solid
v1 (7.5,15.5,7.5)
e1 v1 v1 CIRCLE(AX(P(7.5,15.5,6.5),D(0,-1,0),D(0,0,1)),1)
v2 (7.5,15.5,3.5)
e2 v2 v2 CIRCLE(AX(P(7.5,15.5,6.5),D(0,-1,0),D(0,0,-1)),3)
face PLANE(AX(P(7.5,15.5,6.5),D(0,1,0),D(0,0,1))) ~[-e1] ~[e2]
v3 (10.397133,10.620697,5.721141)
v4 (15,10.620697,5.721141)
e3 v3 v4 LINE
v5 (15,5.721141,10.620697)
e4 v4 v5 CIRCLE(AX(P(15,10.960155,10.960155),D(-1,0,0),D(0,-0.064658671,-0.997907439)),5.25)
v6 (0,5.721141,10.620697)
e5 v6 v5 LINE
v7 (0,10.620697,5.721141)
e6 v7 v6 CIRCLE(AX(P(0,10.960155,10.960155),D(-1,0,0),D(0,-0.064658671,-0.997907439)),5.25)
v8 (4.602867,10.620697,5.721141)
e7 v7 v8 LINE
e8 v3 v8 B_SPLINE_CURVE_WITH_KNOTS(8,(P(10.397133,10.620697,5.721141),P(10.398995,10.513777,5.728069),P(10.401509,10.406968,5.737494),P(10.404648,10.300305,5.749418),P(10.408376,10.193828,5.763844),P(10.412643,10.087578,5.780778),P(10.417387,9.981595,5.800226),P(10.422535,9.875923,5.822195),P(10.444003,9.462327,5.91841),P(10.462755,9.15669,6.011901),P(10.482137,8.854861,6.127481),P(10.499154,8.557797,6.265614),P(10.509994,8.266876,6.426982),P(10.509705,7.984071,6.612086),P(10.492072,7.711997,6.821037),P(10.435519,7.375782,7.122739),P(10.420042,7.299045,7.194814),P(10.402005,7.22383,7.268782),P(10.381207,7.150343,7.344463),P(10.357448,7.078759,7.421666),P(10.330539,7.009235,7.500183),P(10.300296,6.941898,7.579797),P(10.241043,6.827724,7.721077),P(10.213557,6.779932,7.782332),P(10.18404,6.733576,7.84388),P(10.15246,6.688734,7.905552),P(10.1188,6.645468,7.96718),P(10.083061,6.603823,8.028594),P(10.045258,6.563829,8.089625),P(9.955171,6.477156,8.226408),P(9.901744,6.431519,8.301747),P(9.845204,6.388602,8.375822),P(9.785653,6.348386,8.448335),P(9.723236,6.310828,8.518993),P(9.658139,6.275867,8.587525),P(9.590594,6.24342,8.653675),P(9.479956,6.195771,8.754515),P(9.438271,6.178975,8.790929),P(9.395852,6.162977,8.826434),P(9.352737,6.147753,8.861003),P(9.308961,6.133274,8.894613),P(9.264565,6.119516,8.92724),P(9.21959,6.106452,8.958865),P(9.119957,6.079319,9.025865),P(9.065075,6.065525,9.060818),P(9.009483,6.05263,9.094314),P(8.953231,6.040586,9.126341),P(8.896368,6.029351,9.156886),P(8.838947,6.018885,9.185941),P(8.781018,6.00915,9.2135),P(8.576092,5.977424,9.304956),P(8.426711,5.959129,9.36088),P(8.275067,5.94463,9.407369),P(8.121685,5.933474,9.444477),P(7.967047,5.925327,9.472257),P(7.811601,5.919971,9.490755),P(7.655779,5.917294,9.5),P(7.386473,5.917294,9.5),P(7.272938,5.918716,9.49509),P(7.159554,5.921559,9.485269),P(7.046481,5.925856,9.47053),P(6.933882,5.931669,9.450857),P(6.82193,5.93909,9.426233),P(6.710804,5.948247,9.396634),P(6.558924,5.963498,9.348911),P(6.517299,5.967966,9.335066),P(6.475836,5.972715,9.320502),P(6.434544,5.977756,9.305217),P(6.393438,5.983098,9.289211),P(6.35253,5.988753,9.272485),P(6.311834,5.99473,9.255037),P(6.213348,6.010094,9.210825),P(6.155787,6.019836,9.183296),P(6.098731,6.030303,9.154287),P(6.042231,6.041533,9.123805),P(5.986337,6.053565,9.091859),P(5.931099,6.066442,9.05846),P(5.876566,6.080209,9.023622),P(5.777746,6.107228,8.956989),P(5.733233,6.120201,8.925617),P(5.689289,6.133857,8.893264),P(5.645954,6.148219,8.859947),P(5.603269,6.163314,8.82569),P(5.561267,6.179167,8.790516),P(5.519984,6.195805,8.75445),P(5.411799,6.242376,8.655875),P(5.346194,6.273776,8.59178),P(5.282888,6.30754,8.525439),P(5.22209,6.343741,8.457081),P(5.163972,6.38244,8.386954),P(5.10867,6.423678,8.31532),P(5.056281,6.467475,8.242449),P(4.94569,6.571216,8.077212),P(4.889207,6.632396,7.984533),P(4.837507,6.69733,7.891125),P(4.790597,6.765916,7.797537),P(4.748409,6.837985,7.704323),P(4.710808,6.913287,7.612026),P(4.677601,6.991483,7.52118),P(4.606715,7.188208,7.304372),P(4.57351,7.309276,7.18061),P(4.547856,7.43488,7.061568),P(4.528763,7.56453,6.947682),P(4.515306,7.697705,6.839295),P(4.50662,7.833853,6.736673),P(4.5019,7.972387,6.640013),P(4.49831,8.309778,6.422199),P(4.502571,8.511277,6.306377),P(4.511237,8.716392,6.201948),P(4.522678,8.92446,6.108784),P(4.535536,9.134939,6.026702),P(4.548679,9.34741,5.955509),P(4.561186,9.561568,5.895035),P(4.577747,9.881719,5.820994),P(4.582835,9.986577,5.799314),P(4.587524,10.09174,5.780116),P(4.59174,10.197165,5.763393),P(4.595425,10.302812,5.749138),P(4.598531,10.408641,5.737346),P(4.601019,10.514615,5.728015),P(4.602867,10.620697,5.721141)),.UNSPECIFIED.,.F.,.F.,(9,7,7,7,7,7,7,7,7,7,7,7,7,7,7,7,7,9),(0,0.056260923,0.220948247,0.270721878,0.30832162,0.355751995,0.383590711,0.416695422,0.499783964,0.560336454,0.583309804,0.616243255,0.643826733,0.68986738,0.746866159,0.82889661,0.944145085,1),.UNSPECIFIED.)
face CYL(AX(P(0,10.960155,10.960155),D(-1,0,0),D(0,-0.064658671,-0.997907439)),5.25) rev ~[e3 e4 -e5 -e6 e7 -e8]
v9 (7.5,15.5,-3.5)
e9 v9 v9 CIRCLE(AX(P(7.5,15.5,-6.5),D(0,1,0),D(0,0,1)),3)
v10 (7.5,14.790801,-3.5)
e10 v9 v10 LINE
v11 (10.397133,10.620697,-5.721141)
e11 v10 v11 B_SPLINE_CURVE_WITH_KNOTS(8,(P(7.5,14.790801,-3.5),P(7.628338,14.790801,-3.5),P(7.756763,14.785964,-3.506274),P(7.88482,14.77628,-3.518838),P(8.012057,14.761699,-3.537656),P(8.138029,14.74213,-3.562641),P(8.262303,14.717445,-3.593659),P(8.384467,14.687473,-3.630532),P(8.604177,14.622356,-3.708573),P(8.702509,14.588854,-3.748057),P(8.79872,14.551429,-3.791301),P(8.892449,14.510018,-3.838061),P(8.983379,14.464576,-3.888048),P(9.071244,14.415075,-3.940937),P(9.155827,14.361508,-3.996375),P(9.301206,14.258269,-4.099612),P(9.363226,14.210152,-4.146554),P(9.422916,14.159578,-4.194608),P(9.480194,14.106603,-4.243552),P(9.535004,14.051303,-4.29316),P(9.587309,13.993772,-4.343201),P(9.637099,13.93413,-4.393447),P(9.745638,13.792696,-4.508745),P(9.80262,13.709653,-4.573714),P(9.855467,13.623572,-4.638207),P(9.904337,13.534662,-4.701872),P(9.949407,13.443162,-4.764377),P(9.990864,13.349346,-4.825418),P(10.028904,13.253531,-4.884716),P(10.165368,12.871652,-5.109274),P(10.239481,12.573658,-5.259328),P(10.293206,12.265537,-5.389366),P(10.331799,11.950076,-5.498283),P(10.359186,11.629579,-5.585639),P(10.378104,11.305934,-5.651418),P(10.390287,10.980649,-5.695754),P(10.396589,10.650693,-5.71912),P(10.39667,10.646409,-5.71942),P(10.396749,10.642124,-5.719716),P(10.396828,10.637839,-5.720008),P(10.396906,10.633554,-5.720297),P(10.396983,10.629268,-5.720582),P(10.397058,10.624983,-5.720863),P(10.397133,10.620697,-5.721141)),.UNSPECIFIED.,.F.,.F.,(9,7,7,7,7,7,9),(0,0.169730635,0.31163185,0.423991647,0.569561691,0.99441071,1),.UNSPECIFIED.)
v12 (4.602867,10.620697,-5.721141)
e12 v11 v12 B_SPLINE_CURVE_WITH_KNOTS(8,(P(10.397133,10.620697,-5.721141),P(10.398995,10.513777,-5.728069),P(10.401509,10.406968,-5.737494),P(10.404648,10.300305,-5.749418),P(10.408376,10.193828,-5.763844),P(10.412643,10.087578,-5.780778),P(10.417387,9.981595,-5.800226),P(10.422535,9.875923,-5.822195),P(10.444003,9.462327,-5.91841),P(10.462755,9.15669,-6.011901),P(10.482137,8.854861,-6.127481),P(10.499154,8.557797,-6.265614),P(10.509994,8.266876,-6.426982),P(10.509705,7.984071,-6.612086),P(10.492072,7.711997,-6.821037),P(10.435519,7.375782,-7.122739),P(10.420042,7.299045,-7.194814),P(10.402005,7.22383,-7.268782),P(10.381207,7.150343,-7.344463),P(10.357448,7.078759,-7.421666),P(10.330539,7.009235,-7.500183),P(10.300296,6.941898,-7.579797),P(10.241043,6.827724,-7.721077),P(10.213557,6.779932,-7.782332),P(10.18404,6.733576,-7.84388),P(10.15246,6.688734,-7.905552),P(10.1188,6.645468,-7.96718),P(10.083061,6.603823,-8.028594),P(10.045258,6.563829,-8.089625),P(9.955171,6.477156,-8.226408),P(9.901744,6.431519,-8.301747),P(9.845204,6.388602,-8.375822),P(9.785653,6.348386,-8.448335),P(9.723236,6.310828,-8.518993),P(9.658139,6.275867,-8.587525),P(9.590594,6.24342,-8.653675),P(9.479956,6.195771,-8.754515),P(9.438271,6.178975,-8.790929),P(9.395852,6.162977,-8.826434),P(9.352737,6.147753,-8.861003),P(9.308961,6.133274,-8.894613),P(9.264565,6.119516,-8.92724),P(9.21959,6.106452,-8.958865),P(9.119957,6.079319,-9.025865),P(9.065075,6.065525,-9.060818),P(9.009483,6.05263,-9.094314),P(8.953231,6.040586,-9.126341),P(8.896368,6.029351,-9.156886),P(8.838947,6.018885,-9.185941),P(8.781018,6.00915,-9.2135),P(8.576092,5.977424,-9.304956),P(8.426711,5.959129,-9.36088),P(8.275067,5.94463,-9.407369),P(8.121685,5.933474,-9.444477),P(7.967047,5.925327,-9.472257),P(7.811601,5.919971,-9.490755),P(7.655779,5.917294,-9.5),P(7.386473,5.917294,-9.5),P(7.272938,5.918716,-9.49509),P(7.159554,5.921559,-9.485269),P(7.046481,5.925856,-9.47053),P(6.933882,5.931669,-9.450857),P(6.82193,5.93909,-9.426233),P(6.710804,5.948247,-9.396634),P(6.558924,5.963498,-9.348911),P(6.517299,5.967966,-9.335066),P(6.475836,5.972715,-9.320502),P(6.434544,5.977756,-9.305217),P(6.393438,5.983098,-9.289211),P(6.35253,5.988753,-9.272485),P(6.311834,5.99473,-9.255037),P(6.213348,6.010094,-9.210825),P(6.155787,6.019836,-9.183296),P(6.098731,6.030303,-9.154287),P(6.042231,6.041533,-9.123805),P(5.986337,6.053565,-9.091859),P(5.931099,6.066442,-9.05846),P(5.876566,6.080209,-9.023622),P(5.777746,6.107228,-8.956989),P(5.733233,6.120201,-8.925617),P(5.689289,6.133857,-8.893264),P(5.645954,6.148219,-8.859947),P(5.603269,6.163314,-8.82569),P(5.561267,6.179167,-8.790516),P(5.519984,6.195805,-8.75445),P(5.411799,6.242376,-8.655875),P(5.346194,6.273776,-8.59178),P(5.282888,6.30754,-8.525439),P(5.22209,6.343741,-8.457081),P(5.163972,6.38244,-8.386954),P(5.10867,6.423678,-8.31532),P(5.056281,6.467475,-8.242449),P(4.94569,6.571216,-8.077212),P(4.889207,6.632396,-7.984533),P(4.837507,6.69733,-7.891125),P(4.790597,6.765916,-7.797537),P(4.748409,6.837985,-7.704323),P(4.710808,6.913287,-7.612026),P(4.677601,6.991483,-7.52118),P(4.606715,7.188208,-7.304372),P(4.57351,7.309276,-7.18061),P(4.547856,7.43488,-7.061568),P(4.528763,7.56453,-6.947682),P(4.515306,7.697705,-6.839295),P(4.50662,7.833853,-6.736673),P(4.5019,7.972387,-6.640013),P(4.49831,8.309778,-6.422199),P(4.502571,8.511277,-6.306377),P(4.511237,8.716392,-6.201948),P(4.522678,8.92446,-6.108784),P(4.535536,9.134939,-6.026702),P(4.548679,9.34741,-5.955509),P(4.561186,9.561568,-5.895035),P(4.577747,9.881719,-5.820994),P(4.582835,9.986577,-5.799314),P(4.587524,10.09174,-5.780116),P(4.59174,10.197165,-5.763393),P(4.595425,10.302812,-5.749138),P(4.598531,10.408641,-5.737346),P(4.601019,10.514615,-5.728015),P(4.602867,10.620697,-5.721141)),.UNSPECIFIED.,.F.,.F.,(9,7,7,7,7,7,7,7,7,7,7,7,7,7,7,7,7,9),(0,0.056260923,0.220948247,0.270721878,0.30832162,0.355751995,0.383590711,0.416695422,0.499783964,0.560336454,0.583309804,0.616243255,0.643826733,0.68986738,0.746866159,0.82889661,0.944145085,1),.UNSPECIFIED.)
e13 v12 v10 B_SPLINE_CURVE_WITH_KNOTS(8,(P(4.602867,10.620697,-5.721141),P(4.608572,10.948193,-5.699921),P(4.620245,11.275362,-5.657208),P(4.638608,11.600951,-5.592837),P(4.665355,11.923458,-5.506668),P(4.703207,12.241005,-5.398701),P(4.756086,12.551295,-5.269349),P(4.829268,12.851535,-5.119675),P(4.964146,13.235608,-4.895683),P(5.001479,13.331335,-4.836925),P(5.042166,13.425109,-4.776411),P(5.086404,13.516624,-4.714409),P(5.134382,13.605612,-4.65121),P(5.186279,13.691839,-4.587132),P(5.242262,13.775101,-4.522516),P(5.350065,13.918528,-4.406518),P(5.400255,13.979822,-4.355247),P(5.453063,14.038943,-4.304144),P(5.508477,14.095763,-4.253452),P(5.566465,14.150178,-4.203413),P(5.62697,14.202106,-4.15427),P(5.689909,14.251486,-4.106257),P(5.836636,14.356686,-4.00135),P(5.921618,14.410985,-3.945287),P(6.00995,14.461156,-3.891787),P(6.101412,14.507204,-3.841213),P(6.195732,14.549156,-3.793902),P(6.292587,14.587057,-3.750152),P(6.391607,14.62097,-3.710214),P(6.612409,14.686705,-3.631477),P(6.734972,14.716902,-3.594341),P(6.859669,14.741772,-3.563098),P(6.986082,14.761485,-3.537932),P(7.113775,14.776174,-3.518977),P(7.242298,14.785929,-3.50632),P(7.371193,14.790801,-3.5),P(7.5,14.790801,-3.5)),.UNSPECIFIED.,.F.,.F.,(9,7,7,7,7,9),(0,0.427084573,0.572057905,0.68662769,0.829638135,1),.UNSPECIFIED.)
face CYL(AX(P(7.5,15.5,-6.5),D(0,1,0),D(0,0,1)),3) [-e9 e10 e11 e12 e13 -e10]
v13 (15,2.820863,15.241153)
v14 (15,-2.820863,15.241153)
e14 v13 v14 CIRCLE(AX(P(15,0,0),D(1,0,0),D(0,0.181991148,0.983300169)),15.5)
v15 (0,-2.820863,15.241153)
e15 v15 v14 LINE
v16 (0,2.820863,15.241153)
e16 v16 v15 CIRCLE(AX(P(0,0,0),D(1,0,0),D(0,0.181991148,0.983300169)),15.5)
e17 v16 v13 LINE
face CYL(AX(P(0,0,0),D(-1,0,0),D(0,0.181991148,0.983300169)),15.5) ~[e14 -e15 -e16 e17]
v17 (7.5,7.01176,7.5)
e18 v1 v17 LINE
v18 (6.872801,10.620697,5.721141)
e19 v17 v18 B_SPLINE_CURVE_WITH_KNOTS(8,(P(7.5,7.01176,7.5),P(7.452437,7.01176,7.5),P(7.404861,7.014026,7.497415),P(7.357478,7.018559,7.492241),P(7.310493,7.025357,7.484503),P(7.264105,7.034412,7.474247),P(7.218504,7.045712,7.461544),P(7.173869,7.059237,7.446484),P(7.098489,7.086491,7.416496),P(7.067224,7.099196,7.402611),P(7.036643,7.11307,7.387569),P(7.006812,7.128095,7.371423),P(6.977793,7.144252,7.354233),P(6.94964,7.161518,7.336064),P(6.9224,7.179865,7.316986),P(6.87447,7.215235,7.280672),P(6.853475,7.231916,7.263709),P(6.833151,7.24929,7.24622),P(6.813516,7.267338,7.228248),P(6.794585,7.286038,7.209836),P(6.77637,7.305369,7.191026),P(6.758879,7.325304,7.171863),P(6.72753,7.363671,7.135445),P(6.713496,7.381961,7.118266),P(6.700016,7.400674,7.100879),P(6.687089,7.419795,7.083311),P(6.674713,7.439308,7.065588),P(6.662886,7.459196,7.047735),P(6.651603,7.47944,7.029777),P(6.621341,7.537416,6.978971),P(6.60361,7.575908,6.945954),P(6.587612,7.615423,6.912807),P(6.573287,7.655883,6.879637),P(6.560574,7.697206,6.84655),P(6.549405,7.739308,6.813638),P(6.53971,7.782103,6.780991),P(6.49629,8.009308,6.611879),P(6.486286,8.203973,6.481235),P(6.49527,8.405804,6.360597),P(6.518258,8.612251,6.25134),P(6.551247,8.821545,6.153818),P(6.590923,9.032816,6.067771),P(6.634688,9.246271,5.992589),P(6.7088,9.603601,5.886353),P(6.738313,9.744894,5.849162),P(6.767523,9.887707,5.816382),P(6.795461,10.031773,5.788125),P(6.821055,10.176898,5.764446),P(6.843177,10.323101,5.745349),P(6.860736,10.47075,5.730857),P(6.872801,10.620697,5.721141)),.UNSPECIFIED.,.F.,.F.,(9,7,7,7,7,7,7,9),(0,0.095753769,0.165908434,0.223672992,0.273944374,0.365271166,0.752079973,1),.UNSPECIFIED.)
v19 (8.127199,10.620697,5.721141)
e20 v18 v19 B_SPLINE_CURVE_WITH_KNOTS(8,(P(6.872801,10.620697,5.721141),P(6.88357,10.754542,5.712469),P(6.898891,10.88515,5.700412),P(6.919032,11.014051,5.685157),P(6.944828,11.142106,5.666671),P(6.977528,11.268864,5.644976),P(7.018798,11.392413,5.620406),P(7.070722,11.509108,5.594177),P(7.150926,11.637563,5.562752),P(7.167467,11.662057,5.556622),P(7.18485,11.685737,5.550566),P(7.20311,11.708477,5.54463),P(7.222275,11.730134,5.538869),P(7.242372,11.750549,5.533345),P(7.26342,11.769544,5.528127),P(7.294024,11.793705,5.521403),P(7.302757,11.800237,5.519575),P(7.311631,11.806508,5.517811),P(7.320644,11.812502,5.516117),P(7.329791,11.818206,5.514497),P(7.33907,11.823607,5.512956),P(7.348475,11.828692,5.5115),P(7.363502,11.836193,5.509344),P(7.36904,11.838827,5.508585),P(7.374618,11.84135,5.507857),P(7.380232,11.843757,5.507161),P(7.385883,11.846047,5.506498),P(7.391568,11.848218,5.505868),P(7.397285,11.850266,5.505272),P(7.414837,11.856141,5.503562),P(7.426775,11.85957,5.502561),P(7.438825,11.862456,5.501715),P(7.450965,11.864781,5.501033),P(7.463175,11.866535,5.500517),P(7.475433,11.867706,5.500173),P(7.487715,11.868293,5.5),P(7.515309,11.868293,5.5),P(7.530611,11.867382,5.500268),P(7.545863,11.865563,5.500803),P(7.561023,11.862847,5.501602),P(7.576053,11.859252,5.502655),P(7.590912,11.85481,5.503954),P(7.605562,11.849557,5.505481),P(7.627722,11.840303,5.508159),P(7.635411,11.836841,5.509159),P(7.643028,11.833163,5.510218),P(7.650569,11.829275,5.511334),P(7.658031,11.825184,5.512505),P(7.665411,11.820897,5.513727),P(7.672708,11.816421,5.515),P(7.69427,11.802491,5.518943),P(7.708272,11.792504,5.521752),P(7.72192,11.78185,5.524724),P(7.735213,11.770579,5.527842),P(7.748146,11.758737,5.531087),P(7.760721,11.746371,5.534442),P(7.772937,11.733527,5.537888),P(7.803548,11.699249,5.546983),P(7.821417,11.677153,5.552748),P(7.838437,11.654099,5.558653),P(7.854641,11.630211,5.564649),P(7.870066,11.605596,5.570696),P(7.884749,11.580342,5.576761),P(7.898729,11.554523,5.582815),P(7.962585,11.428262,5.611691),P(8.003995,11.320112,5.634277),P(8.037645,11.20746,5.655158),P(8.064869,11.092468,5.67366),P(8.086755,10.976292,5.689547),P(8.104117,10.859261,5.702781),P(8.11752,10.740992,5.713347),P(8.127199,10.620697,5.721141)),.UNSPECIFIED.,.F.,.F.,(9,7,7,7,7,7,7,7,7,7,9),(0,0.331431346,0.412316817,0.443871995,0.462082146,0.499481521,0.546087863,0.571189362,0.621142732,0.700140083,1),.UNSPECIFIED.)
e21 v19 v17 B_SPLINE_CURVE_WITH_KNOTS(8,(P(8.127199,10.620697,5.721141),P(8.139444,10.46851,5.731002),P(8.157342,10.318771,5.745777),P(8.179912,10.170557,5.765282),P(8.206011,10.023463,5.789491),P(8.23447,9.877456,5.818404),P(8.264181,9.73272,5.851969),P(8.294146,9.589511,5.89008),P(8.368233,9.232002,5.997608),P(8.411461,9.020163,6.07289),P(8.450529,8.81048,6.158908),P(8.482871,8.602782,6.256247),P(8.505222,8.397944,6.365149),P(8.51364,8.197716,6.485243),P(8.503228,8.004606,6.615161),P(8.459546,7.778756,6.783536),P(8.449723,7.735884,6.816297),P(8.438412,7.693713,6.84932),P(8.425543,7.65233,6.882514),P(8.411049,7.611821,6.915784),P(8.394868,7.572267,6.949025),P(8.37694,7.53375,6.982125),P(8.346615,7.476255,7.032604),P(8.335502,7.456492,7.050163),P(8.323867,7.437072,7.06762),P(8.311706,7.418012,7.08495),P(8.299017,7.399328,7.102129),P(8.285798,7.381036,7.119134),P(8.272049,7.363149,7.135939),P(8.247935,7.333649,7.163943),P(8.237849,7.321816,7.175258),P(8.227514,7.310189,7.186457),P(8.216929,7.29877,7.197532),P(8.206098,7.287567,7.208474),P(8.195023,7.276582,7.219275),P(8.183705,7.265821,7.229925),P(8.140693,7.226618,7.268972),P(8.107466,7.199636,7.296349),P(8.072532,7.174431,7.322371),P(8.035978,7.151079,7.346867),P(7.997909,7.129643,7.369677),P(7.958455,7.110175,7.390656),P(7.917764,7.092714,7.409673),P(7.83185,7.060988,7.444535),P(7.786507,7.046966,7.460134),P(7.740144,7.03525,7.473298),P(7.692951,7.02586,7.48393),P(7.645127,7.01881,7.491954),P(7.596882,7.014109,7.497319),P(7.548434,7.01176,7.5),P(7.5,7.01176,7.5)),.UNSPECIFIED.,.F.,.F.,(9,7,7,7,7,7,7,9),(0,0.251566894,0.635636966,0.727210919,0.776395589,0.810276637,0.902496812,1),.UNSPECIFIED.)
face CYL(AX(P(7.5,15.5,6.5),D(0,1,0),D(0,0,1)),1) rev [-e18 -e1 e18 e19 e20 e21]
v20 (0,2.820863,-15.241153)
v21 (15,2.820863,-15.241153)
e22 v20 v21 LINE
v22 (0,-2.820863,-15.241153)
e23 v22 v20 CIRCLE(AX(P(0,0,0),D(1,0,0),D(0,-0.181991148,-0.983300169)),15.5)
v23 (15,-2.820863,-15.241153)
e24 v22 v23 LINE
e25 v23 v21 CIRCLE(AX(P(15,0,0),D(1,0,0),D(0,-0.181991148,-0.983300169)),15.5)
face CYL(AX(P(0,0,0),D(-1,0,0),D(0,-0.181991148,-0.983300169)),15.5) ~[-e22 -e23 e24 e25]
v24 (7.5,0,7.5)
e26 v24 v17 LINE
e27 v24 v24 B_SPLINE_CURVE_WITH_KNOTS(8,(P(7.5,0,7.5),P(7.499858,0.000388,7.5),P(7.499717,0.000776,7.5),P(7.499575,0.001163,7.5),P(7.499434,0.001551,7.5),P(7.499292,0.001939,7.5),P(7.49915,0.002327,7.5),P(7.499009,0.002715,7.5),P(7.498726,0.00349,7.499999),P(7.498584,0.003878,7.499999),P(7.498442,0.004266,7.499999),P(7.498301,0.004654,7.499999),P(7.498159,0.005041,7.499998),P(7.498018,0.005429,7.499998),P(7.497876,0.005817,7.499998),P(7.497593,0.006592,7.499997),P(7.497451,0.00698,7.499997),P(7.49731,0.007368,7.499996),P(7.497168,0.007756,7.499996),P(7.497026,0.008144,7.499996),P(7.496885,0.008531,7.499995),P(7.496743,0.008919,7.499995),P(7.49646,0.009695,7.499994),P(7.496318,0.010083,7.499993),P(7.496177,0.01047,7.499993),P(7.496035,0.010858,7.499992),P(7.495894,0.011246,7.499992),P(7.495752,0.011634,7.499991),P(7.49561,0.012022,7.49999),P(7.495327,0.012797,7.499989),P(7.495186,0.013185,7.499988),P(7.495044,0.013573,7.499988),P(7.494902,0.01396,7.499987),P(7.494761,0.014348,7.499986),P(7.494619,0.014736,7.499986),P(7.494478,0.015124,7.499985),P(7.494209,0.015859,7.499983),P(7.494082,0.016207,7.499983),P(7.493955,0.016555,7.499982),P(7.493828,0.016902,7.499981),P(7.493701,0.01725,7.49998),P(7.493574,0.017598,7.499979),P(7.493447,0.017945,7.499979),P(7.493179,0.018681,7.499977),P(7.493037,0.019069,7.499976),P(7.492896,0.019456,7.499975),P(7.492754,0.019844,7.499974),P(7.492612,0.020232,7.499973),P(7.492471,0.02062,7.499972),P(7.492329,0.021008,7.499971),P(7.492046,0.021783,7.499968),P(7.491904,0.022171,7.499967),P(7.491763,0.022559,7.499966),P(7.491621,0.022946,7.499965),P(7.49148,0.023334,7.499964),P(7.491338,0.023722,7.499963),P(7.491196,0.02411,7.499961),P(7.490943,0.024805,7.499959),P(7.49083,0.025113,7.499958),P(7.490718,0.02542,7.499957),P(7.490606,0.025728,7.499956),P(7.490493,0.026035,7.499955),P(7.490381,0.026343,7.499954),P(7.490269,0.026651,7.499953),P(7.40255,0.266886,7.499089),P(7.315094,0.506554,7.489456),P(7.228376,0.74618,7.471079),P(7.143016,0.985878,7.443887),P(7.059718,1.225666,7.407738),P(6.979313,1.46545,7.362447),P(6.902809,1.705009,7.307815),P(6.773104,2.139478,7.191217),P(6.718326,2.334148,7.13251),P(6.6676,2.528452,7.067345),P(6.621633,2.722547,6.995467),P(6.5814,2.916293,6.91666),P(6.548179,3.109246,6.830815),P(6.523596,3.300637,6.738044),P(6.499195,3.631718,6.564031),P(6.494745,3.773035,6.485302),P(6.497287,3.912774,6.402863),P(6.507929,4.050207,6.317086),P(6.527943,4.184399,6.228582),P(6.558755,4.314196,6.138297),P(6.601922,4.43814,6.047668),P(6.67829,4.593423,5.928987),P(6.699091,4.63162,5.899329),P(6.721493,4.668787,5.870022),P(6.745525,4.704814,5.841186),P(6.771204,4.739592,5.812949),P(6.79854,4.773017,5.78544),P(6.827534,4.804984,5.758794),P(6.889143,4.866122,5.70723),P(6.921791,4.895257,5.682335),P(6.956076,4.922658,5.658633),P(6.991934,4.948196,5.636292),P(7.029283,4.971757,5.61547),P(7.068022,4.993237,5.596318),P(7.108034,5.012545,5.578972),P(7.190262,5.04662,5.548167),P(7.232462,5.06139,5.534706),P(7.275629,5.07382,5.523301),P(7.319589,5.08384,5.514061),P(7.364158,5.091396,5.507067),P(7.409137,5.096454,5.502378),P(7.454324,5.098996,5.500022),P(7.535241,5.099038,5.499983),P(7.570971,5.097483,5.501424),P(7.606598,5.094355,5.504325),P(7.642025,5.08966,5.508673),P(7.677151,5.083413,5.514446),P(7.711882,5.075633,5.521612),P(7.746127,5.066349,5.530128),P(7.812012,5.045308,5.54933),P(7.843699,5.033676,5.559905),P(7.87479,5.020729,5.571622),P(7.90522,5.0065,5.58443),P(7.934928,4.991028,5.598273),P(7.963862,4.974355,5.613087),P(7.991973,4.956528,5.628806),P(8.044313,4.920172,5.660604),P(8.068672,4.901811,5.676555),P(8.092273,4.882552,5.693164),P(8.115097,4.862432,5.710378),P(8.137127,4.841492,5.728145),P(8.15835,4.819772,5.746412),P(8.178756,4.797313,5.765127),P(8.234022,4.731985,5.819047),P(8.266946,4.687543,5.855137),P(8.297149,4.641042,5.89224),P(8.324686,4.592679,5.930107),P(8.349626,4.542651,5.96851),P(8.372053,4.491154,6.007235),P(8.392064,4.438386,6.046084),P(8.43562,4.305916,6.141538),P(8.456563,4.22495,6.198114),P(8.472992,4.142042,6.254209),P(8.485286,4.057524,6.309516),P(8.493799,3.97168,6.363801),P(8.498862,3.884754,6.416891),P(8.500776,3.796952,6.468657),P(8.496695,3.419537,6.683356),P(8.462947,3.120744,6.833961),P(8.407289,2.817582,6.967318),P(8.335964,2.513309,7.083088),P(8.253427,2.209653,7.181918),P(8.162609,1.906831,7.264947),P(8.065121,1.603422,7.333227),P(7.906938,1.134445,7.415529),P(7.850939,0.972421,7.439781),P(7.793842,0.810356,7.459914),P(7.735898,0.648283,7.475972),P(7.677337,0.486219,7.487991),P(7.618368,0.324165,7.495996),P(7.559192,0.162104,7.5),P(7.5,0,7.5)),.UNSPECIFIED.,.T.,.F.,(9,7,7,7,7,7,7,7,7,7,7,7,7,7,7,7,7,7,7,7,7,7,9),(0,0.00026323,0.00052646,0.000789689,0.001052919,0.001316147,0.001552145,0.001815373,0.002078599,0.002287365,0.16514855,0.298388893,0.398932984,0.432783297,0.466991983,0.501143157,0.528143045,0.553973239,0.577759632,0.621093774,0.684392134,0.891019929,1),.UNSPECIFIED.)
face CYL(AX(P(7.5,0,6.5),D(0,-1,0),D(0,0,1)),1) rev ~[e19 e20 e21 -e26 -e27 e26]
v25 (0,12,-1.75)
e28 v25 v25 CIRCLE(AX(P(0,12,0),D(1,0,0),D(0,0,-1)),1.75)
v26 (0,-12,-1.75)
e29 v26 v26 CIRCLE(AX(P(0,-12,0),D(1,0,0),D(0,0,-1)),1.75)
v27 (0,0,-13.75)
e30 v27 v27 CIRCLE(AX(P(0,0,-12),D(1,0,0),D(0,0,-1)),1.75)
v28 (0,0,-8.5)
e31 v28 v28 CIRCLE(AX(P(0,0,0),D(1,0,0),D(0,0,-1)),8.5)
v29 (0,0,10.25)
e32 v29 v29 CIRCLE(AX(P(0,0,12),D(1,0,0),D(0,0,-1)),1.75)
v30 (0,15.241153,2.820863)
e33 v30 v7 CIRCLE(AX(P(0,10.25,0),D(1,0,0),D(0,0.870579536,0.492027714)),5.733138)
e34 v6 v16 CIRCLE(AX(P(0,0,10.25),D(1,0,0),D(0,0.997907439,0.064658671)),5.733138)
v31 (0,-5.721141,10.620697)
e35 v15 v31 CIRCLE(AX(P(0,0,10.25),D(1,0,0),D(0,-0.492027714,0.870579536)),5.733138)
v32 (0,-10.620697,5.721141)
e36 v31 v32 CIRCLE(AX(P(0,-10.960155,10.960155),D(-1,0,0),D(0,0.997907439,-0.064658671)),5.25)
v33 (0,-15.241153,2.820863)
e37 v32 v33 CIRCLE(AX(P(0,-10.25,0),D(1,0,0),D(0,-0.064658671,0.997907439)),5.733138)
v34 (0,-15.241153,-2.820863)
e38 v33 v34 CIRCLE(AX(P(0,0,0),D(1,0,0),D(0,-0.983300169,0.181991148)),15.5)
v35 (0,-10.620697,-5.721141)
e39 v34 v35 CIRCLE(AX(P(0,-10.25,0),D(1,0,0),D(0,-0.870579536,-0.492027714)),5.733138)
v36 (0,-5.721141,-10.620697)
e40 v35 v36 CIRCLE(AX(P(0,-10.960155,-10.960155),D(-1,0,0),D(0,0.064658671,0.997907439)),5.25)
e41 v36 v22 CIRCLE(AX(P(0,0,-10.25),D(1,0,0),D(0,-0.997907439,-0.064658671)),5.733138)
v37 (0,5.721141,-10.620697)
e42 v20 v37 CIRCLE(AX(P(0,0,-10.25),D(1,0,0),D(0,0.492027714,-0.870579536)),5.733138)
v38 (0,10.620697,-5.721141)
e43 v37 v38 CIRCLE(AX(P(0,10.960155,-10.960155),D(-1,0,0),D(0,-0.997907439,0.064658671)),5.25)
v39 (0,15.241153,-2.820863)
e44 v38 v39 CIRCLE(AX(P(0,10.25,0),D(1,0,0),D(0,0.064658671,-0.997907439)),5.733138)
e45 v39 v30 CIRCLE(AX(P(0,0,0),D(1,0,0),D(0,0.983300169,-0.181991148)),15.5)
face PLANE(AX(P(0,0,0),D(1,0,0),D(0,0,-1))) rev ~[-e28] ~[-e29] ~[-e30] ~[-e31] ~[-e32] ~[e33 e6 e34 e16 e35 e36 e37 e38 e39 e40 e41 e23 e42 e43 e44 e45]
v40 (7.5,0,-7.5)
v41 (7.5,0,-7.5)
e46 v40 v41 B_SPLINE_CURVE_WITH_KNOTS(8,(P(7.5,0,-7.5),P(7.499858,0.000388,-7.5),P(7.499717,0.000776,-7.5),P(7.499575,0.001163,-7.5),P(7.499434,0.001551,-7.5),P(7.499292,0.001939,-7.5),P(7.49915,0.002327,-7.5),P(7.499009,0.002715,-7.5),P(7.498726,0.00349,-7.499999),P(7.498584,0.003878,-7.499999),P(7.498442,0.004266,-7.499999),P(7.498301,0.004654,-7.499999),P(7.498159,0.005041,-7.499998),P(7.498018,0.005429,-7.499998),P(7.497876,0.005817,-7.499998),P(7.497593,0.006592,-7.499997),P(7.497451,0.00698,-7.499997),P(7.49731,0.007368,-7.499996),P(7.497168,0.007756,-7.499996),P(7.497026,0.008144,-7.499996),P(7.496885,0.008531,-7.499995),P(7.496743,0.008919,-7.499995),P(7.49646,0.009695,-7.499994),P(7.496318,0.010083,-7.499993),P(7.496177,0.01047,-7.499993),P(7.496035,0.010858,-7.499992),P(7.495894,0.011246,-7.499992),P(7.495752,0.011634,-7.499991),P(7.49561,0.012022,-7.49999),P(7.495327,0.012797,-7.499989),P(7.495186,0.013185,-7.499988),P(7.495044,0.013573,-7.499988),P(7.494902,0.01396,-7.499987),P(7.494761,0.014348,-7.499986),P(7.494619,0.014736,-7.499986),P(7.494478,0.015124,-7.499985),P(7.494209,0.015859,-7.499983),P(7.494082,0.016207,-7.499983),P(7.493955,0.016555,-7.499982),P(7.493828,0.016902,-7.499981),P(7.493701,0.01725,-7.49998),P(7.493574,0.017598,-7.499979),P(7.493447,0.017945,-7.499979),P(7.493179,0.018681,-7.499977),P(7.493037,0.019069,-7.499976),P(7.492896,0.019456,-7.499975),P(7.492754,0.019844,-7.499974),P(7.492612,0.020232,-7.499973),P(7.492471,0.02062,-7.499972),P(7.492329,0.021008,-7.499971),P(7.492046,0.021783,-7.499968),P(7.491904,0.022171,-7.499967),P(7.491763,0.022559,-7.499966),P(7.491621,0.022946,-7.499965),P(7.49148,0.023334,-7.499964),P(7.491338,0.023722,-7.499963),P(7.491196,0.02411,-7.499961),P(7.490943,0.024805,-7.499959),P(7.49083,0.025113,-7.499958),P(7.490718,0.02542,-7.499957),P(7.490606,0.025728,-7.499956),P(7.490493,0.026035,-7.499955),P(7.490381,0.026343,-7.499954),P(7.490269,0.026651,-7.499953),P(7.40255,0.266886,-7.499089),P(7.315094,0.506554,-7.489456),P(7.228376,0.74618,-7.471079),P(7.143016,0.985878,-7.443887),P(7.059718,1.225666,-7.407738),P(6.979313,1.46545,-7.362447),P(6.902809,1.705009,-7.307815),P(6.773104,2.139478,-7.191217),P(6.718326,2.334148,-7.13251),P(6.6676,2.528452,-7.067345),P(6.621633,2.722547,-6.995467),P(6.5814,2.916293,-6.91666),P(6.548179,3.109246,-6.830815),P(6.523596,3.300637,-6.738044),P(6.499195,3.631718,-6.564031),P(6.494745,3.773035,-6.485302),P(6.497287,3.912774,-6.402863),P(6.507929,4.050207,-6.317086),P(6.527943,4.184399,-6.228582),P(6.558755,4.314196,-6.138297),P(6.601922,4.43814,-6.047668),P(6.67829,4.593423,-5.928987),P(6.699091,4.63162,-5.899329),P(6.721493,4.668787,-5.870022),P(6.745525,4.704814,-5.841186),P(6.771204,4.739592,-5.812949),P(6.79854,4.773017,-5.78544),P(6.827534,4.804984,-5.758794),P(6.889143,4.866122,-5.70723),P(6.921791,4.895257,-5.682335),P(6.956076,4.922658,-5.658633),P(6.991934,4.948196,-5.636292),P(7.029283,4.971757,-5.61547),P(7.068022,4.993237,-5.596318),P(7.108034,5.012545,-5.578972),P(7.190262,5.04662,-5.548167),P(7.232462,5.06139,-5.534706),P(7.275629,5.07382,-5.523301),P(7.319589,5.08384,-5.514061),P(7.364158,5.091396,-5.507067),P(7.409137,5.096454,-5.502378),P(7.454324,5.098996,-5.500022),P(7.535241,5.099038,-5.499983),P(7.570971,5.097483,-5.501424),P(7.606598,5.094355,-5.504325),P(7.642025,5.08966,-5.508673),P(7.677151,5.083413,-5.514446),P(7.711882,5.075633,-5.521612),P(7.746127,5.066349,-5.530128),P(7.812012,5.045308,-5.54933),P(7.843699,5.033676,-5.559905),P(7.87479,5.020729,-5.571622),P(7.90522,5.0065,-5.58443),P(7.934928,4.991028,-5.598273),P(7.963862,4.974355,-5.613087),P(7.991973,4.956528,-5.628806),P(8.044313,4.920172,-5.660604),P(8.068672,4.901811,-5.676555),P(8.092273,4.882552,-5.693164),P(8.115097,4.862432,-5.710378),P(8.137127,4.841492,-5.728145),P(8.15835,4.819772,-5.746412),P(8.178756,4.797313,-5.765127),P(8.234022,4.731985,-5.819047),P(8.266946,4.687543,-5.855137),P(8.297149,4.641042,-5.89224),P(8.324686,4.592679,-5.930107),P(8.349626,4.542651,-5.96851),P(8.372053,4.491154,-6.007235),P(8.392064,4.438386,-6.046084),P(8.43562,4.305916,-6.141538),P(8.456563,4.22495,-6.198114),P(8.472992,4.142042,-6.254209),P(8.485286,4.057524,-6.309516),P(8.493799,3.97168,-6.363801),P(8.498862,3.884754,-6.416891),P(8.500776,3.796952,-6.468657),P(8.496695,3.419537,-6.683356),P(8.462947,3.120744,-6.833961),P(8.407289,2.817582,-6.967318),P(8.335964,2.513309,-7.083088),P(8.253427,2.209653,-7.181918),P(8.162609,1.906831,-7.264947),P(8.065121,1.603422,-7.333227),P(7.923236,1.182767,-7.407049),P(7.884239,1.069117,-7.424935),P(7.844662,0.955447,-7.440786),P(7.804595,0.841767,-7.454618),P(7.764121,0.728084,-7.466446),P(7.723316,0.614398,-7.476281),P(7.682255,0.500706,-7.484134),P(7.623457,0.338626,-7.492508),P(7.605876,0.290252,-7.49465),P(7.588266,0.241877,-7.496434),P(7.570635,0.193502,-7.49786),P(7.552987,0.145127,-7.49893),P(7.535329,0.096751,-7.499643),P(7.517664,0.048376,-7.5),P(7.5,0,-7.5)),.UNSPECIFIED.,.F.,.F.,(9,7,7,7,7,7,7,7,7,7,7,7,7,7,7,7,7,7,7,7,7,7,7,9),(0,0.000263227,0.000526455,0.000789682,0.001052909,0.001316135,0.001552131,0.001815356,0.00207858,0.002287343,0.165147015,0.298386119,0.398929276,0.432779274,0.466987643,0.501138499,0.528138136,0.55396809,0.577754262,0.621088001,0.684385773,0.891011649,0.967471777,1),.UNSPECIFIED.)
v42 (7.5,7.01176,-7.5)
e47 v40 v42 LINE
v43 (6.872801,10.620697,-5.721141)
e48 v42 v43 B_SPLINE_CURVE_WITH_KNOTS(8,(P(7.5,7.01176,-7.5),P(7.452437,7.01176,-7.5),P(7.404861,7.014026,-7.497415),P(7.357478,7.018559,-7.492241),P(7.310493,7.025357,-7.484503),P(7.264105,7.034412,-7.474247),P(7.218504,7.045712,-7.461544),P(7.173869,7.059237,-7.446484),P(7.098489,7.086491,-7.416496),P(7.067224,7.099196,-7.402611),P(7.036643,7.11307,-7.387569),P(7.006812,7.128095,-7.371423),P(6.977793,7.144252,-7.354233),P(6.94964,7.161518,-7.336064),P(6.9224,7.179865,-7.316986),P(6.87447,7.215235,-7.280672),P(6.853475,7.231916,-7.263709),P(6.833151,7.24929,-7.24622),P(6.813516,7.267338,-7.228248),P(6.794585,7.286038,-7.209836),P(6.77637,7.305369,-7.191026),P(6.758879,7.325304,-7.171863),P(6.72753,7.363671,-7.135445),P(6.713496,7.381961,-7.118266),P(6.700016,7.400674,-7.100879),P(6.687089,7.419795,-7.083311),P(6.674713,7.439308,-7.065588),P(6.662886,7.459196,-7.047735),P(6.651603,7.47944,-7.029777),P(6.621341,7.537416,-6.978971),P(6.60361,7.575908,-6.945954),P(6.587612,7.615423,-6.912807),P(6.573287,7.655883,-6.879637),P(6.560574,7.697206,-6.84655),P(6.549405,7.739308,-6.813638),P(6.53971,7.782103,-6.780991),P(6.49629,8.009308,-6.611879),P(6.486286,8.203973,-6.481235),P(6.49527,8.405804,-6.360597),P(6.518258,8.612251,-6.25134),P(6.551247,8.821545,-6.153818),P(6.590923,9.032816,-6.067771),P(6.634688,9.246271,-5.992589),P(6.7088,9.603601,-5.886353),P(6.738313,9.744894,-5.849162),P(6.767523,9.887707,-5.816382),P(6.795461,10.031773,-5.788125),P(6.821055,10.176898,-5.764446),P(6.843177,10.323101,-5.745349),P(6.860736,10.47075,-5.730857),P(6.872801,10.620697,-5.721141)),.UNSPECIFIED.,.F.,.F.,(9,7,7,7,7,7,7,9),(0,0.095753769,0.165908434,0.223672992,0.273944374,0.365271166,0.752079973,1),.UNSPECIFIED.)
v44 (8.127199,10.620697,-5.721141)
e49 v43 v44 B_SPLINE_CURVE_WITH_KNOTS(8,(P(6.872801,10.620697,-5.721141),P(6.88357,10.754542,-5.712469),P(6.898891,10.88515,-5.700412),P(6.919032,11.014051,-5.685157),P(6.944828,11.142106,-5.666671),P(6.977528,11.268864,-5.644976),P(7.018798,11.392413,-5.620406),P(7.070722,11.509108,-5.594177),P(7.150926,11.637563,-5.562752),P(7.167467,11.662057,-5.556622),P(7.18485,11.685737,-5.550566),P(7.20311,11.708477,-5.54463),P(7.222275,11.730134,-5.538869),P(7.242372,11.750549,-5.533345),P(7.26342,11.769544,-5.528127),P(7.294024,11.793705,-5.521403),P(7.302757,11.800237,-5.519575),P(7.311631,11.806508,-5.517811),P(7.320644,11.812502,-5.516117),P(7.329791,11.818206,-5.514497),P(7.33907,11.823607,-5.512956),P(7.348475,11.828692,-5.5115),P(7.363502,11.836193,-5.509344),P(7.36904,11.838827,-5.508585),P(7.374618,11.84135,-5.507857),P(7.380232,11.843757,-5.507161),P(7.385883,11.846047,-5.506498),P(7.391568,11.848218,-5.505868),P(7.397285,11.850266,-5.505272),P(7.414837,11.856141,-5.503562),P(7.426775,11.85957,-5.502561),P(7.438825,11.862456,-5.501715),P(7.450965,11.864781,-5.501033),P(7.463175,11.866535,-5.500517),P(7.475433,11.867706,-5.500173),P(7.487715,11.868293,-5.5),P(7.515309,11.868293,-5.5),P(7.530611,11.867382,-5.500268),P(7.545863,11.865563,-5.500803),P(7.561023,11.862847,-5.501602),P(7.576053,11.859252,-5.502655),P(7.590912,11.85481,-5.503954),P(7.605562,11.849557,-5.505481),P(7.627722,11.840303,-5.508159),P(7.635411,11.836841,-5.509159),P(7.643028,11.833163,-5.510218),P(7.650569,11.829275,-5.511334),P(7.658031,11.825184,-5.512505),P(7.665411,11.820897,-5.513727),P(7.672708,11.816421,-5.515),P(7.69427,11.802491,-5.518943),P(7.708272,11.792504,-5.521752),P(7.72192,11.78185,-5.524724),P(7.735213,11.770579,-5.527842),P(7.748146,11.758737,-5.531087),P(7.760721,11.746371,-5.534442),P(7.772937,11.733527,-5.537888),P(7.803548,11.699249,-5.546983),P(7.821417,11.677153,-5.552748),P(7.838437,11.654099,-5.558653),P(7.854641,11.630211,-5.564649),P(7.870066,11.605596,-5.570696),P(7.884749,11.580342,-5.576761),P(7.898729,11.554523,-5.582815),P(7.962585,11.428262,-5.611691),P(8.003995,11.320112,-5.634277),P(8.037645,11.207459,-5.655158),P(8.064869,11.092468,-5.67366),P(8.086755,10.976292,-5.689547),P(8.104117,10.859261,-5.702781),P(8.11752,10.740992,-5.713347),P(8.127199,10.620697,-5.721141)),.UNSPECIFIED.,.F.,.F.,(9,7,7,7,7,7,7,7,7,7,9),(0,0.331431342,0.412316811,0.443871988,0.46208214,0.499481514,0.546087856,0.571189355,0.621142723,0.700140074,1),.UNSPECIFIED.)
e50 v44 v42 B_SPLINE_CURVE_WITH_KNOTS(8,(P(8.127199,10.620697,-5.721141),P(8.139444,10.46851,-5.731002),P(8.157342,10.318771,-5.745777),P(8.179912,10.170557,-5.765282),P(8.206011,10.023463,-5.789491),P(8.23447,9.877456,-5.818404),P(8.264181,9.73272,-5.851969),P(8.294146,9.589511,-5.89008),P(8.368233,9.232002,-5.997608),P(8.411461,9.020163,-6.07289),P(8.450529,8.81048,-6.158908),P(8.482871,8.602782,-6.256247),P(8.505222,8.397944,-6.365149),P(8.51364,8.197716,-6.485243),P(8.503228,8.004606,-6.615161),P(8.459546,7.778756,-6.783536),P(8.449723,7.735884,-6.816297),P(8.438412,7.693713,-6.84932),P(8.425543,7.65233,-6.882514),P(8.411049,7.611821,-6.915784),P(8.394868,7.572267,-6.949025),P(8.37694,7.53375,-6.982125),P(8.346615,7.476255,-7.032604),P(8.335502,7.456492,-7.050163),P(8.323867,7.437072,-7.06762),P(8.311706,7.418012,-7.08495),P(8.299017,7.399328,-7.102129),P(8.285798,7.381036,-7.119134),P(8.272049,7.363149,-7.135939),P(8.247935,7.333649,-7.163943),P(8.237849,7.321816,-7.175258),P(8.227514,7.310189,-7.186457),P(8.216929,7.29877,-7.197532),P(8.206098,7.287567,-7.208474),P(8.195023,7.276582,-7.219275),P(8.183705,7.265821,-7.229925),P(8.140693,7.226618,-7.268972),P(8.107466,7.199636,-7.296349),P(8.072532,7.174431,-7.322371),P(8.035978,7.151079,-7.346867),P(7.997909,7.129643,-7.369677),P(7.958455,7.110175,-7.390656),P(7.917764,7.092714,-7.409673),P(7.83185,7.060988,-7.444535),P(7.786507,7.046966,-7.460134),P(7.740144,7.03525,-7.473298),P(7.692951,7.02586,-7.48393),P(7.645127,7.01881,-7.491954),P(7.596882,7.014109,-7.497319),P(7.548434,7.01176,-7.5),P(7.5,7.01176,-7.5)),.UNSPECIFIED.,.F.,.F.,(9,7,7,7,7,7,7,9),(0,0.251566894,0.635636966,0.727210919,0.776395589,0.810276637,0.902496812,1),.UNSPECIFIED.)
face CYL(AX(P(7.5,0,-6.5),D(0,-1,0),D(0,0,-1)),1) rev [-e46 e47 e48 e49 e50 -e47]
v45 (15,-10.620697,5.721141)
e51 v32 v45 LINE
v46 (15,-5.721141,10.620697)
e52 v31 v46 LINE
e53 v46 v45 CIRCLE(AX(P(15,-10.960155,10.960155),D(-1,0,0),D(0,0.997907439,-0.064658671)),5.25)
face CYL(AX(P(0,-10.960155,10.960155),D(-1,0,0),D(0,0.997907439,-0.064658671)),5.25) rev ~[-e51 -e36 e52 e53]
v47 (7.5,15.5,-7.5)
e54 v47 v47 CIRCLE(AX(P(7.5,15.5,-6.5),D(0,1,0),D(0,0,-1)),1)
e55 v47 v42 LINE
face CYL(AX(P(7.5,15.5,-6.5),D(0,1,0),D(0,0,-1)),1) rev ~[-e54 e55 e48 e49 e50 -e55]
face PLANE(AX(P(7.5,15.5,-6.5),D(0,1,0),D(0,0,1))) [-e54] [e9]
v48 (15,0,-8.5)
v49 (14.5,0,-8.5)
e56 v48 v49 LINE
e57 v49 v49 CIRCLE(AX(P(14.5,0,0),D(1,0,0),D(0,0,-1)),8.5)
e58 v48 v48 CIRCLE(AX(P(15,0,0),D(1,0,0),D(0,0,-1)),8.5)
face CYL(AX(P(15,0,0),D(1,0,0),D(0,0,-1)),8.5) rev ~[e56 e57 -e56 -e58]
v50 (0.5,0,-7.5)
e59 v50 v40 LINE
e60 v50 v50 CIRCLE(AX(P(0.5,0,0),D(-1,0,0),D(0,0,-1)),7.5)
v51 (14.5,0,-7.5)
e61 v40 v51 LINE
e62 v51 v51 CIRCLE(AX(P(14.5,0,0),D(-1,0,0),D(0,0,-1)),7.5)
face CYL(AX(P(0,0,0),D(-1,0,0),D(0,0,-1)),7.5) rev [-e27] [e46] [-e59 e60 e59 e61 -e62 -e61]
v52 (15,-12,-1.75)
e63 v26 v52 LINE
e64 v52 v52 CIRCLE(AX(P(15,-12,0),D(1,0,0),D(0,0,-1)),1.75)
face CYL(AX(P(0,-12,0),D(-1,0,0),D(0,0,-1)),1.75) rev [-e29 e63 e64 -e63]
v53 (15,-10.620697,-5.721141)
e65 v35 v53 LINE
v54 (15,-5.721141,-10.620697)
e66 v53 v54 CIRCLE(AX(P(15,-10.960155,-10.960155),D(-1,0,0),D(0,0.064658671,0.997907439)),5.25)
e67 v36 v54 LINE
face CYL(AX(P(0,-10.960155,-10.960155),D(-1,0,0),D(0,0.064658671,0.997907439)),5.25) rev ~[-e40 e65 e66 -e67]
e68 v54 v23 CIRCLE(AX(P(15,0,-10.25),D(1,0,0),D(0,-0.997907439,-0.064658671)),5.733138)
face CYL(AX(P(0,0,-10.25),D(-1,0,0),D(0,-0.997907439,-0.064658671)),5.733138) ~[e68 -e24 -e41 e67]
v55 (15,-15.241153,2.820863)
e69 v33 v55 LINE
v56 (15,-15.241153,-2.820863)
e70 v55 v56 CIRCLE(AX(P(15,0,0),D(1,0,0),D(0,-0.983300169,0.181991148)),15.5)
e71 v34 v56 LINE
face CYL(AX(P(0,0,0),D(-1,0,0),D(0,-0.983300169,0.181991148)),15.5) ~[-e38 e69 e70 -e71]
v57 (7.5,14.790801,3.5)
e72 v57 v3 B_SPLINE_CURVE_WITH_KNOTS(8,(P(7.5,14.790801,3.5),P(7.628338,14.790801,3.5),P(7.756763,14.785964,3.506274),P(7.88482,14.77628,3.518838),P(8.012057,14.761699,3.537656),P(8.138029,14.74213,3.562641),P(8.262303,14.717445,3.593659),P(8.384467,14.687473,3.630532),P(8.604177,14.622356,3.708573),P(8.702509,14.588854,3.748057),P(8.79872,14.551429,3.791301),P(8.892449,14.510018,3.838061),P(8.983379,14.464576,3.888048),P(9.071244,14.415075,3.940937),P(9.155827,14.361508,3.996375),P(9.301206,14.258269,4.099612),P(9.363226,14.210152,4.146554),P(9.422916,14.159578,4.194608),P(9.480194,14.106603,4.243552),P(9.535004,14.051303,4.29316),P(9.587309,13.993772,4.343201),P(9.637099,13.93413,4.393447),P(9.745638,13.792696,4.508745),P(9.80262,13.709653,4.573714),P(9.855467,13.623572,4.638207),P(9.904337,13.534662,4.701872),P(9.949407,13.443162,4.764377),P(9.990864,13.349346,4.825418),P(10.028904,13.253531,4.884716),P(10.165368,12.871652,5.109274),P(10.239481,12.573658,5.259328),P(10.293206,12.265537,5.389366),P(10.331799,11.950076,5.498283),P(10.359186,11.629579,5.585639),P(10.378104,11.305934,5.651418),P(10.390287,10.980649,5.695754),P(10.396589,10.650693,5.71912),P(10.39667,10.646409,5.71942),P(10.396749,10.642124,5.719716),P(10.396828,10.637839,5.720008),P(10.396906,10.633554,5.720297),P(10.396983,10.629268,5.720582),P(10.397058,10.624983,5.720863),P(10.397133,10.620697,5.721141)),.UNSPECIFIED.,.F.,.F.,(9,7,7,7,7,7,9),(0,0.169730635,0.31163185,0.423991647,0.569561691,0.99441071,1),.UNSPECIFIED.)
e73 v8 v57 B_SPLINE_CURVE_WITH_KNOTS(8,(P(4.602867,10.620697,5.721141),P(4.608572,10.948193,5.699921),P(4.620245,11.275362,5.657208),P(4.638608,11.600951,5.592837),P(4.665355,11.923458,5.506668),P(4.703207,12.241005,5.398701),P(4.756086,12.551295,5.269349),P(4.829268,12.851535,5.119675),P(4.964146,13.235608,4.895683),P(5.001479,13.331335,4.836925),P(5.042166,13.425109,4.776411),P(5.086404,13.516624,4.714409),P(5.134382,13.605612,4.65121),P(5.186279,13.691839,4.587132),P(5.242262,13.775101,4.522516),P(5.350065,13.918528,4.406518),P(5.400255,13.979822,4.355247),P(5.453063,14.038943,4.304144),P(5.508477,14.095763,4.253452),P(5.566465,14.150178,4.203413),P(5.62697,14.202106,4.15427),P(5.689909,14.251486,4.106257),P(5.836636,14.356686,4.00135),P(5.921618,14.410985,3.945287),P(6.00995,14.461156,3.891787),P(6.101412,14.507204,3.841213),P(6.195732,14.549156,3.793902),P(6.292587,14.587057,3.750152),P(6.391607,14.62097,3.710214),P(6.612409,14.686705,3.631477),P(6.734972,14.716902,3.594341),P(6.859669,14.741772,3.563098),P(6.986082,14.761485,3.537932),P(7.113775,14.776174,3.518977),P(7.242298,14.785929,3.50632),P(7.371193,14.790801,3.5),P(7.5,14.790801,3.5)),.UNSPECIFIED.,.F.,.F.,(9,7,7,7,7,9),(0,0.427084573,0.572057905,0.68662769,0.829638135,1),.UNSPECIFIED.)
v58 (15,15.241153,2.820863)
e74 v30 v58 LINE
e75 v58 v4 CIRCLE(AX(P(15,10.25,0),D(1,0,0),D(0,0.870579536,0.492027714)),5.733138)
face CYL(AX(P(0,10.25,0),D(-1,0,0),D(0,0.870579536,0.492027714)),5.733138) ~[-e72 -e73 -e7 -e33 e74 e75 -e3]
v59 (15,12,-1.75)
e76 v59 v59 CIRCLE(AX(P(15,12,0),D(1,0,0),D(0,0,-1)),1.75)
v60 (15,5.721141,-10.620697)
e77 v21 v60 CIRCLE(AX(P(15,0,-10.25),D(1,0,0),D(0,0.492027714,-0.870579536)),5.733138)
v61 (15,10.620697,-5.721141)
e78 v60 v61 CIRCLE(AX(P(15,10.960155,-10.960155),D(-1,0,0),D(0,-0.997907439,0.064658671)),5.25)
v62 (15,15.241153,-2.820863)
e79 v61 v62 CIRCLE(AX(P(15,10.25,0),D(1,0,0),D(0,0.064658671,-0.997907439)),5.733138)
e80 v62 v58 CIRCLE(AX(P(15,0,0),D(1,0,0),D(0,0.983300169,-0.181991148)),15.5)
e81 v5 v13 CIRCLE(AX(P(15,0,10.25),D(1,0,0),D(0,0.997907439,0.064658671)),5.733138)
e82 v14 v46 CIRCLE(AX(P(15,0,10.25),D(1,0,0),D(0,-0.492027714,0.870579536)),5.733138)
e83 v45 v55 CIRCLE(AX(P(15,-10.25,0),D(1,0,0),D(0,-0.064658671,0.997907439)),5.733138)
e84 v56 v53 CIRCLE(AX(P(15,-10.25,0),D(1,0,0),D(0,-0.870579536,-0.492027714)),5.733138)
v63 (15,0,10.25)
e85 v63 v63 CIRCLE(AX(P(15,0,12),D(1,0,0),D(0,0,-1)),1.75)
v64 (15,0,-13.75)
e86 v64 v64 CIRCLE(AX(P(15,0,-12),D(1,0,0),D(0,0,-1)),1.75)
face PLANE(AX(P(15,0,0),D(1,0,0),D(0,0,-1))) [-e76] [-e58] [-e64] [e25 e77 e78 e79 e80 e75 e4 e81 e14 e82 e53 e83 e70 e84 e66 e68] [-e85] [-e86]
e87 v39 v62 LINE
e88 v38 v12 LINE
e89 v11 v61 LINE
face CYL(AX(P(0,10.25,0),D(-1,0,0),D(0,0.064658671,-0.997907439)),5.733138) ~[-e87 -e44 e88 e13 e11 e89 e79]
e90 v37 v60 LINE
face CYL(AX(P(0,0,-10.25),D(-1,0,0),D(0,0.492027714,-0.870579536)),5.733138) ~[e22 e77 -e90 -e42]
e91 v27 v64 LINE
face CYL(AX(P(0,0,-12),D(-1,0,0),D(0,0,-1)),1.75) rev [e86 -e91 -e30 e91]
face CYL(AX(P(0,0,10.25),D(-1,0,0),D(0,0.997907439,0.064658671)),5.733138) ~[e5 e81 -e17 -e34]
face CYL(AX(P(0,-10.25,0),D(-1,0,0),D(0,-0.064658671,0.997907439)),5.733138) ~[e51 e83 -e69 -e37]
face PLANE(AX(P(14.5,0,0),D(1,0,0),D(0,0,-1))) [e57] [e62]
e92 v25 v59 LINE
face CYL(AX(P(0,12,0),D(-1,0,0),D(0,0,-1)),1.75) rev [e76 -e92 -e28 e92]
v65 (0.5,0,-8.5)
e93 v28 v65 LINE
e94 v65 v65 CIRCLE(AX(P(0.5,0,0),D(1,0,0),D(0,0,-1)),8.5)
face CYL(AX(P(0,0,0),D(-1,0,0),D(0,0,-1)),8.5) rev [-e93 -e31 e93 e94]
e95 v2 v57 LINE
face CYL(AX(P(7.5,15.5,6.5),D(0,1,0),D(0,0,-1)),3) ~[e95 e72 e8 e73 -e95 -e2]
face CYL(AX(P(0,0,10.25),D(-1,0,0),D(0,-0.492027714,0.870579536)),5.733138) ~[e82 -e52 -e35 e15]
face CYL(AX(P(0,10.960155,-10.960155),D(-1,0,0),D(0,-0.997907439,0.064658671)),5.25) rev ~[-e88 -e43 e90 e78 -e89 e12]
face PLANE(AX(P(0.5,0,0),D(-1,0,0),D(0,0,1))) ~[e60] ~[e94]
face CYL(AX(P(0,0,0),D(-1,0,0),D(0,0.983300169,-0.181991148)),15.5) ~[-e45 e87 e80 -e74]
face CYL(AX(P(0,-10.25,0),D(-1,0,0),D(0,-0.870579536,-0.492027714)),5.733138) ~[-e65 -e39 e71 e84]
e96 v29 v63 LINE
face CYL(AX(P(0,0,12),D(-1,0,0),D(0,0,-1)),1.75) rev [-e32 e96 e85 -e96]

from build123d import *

# Parameters (mm, degrees)
SKETCH2_R           = 1.75
SKETCH2_R_2         = 7.5
FLANGE_DEPTH        = 15
SKETCH3_R           = 8.5
O_RING_SEAT_DEPTH   = 0.5
SKETCH5_R           = 1
OUTLET_DEPTH        = 27.561249971
BOSS_EXTRUDE2_REACH = 39.766
SKETCH6_R           = 3
SKETCH6_R_2         = 1


with BuildPart() as part:
    # Sketch2 → Flange (new body)
    with BuildSketch(Plane(origin=(0, 0, 0), x_dir=(0, 0, -1), z_dir=(1, 0, 0))):
        with BuildLine():
            ThreePointArc((-15.241152619, 2.820862781), (-15.5, 0), (-15.241152619, -2.820862781))
            ThreePointArc((-15.241152619, -2.820862781), (-13.297993041, -4.855781062), (-10.620697085, -5.721141055))
            ThreePointArc((-10.620697085, -5.721141055), (-7.247844507, -7.247844507), (-5.721141055, -10.620697085))
            ThreePointArc((-5.721141055, -10.620697085), (-4.855781062, -13.297993041), (-2.820862781, -15.241152619))
            ThreePointArc((-2.820862781, -15.241152619), (0, -15.5), (2.820862781, -15.241152619))
            ThreePointArc((2.820862781, -15.241152619), (4.855781062, -13.297993041), (5.721141055, -10.620697085))
            ThreePointArc((5.721141055, -10.620697085), (7.247844507, -7.247844507), (10.620697085, -5.721141055))
            ThreePointArc((10.620697085, -5.721141055), (13.297993041, -4.855781062), (15.241152619, -2.820862781))
            ThreePointArc((15.241152619, -2.820862781), (15.5, 0), (15.241152619, 2.820862781))
            ThreePointArc((15.241152619, 2.820862781), (13.297993041, 4.855781062), (10.620697085, 5.721141055))
            ThreePointArc((10.620697085, 5.721141055), (7.247844507, 7.247844507), (5.721141055, 10.620697085))
            ThreePointArc((5.721141055, 10.620697085), (4.855781062, 13.297993041), (2.820862781, 15.241152619))
            ThreePointArc((2.820862781, 15.241152619), (0, 15.5), (-2.820862781, 15.241152619))
            ThreePointArc((-2.820862781, 15.241152619), (-4.855781062, 13.297993041), (-5.721141055, 10.620697085))
            ThreePointArc((-5.721141055, 10.620697085), (-7.247844507, 7.247844507), (-10.620697085, 5.721141055))
            ThreePointArc((-10.620697085, 5.721141055), (-13.297993041, 4.855781062), (-15.241152619, 2.820862781))
        make_face()
        with Locations((0, 12)):
            Circle(SKETCH2_R, mode=Mode.SUBTRACT)
        with Locations((12, 0)):
            Circle(SKETCH2_R, mode=Mode.SUBTRACT)
        with Locations((0, -12)):
            Circle(SKETCH2_R, mode=Mode.SUBTRACT)
        with Locations((-12, 0)):
            Circle(SKETCH2_R, mode=Mode.SUBTRACT)
        Circle(SKETCH2_R_2, mode=Mode.SUBTRACT)
    extrude(amount=FLANGE_DEPTH)

    # Sketch3 → O-Ring Seat (cut)
    with BuildSketch(Plane(origin=(15, 0, 0), x_dir=(0, 0, -1), z_dir=(1, 0, 0))):
        Circle(SKETCH3_R)
    o_ring_seat = extrude(amount=-O_RING_SEAT_DEPTH, mode=Mode.SUBTRACT)

    # Mirror1: O-Ring Seat across plane
    add(o_ring_seat.mirror(Plane.ZY.offset(-7.5)), mode=Mode.SUBTRACT)

    # Sketch5 → Outlet (cut, through all)
    with BuildSketch(Plane(origin=(0, 0, 0), x_dir=(1, 0, 0), z_dir=(0, 1, 0))):
        with Locations(Location((7.5, 6.5, 0), (0, 0, 90))):
            Circle(SKETCH5_R)
    outlet = extrude(amount=OUTLET_DEPTH, mode=Mode.SUBTRACT)

    # Sketch6 → Boss-Extrude2 (add, up to next)
    with BuildSketch(Plane(origin=(0, 15.5, 0), x_dir=(1, 0, 0), z_dir=(0, 1, 0)), mode=Mode.PRIVATE) as boss_extrude2_sk1:
        with Locations(Location((7.5, 6.5, 0), (0, 0, 270))):
            Circle(SKETCH6_R)
        with Locations(Location((7.5, 6.5, 0), (0, 0, 90))):
            Circle(SKETCH6_R_2, mode=Mode.SUBTRACT)
    boss_extrude2_tool1 = extrude(boss_extrude2_sk1.sketch, amount=-BOSS_EXTRUDE2_REACH, mode=Mode.PRIVATE) - part.part
    boss_extrude2 = boss_extrude2_tool1.solids().sort_by_distance((7.5, 15.5, -9.415147))[0]
    add(boss_extrude2)

    # Inlet: Outlet, Boss-Extrude2 across plane
    add(outlet.mirror(Plane.XY), mode=Mode.SUBTRACT)
    add(boss_extrude2.mirror(Plane.XY))


solid = part.part
